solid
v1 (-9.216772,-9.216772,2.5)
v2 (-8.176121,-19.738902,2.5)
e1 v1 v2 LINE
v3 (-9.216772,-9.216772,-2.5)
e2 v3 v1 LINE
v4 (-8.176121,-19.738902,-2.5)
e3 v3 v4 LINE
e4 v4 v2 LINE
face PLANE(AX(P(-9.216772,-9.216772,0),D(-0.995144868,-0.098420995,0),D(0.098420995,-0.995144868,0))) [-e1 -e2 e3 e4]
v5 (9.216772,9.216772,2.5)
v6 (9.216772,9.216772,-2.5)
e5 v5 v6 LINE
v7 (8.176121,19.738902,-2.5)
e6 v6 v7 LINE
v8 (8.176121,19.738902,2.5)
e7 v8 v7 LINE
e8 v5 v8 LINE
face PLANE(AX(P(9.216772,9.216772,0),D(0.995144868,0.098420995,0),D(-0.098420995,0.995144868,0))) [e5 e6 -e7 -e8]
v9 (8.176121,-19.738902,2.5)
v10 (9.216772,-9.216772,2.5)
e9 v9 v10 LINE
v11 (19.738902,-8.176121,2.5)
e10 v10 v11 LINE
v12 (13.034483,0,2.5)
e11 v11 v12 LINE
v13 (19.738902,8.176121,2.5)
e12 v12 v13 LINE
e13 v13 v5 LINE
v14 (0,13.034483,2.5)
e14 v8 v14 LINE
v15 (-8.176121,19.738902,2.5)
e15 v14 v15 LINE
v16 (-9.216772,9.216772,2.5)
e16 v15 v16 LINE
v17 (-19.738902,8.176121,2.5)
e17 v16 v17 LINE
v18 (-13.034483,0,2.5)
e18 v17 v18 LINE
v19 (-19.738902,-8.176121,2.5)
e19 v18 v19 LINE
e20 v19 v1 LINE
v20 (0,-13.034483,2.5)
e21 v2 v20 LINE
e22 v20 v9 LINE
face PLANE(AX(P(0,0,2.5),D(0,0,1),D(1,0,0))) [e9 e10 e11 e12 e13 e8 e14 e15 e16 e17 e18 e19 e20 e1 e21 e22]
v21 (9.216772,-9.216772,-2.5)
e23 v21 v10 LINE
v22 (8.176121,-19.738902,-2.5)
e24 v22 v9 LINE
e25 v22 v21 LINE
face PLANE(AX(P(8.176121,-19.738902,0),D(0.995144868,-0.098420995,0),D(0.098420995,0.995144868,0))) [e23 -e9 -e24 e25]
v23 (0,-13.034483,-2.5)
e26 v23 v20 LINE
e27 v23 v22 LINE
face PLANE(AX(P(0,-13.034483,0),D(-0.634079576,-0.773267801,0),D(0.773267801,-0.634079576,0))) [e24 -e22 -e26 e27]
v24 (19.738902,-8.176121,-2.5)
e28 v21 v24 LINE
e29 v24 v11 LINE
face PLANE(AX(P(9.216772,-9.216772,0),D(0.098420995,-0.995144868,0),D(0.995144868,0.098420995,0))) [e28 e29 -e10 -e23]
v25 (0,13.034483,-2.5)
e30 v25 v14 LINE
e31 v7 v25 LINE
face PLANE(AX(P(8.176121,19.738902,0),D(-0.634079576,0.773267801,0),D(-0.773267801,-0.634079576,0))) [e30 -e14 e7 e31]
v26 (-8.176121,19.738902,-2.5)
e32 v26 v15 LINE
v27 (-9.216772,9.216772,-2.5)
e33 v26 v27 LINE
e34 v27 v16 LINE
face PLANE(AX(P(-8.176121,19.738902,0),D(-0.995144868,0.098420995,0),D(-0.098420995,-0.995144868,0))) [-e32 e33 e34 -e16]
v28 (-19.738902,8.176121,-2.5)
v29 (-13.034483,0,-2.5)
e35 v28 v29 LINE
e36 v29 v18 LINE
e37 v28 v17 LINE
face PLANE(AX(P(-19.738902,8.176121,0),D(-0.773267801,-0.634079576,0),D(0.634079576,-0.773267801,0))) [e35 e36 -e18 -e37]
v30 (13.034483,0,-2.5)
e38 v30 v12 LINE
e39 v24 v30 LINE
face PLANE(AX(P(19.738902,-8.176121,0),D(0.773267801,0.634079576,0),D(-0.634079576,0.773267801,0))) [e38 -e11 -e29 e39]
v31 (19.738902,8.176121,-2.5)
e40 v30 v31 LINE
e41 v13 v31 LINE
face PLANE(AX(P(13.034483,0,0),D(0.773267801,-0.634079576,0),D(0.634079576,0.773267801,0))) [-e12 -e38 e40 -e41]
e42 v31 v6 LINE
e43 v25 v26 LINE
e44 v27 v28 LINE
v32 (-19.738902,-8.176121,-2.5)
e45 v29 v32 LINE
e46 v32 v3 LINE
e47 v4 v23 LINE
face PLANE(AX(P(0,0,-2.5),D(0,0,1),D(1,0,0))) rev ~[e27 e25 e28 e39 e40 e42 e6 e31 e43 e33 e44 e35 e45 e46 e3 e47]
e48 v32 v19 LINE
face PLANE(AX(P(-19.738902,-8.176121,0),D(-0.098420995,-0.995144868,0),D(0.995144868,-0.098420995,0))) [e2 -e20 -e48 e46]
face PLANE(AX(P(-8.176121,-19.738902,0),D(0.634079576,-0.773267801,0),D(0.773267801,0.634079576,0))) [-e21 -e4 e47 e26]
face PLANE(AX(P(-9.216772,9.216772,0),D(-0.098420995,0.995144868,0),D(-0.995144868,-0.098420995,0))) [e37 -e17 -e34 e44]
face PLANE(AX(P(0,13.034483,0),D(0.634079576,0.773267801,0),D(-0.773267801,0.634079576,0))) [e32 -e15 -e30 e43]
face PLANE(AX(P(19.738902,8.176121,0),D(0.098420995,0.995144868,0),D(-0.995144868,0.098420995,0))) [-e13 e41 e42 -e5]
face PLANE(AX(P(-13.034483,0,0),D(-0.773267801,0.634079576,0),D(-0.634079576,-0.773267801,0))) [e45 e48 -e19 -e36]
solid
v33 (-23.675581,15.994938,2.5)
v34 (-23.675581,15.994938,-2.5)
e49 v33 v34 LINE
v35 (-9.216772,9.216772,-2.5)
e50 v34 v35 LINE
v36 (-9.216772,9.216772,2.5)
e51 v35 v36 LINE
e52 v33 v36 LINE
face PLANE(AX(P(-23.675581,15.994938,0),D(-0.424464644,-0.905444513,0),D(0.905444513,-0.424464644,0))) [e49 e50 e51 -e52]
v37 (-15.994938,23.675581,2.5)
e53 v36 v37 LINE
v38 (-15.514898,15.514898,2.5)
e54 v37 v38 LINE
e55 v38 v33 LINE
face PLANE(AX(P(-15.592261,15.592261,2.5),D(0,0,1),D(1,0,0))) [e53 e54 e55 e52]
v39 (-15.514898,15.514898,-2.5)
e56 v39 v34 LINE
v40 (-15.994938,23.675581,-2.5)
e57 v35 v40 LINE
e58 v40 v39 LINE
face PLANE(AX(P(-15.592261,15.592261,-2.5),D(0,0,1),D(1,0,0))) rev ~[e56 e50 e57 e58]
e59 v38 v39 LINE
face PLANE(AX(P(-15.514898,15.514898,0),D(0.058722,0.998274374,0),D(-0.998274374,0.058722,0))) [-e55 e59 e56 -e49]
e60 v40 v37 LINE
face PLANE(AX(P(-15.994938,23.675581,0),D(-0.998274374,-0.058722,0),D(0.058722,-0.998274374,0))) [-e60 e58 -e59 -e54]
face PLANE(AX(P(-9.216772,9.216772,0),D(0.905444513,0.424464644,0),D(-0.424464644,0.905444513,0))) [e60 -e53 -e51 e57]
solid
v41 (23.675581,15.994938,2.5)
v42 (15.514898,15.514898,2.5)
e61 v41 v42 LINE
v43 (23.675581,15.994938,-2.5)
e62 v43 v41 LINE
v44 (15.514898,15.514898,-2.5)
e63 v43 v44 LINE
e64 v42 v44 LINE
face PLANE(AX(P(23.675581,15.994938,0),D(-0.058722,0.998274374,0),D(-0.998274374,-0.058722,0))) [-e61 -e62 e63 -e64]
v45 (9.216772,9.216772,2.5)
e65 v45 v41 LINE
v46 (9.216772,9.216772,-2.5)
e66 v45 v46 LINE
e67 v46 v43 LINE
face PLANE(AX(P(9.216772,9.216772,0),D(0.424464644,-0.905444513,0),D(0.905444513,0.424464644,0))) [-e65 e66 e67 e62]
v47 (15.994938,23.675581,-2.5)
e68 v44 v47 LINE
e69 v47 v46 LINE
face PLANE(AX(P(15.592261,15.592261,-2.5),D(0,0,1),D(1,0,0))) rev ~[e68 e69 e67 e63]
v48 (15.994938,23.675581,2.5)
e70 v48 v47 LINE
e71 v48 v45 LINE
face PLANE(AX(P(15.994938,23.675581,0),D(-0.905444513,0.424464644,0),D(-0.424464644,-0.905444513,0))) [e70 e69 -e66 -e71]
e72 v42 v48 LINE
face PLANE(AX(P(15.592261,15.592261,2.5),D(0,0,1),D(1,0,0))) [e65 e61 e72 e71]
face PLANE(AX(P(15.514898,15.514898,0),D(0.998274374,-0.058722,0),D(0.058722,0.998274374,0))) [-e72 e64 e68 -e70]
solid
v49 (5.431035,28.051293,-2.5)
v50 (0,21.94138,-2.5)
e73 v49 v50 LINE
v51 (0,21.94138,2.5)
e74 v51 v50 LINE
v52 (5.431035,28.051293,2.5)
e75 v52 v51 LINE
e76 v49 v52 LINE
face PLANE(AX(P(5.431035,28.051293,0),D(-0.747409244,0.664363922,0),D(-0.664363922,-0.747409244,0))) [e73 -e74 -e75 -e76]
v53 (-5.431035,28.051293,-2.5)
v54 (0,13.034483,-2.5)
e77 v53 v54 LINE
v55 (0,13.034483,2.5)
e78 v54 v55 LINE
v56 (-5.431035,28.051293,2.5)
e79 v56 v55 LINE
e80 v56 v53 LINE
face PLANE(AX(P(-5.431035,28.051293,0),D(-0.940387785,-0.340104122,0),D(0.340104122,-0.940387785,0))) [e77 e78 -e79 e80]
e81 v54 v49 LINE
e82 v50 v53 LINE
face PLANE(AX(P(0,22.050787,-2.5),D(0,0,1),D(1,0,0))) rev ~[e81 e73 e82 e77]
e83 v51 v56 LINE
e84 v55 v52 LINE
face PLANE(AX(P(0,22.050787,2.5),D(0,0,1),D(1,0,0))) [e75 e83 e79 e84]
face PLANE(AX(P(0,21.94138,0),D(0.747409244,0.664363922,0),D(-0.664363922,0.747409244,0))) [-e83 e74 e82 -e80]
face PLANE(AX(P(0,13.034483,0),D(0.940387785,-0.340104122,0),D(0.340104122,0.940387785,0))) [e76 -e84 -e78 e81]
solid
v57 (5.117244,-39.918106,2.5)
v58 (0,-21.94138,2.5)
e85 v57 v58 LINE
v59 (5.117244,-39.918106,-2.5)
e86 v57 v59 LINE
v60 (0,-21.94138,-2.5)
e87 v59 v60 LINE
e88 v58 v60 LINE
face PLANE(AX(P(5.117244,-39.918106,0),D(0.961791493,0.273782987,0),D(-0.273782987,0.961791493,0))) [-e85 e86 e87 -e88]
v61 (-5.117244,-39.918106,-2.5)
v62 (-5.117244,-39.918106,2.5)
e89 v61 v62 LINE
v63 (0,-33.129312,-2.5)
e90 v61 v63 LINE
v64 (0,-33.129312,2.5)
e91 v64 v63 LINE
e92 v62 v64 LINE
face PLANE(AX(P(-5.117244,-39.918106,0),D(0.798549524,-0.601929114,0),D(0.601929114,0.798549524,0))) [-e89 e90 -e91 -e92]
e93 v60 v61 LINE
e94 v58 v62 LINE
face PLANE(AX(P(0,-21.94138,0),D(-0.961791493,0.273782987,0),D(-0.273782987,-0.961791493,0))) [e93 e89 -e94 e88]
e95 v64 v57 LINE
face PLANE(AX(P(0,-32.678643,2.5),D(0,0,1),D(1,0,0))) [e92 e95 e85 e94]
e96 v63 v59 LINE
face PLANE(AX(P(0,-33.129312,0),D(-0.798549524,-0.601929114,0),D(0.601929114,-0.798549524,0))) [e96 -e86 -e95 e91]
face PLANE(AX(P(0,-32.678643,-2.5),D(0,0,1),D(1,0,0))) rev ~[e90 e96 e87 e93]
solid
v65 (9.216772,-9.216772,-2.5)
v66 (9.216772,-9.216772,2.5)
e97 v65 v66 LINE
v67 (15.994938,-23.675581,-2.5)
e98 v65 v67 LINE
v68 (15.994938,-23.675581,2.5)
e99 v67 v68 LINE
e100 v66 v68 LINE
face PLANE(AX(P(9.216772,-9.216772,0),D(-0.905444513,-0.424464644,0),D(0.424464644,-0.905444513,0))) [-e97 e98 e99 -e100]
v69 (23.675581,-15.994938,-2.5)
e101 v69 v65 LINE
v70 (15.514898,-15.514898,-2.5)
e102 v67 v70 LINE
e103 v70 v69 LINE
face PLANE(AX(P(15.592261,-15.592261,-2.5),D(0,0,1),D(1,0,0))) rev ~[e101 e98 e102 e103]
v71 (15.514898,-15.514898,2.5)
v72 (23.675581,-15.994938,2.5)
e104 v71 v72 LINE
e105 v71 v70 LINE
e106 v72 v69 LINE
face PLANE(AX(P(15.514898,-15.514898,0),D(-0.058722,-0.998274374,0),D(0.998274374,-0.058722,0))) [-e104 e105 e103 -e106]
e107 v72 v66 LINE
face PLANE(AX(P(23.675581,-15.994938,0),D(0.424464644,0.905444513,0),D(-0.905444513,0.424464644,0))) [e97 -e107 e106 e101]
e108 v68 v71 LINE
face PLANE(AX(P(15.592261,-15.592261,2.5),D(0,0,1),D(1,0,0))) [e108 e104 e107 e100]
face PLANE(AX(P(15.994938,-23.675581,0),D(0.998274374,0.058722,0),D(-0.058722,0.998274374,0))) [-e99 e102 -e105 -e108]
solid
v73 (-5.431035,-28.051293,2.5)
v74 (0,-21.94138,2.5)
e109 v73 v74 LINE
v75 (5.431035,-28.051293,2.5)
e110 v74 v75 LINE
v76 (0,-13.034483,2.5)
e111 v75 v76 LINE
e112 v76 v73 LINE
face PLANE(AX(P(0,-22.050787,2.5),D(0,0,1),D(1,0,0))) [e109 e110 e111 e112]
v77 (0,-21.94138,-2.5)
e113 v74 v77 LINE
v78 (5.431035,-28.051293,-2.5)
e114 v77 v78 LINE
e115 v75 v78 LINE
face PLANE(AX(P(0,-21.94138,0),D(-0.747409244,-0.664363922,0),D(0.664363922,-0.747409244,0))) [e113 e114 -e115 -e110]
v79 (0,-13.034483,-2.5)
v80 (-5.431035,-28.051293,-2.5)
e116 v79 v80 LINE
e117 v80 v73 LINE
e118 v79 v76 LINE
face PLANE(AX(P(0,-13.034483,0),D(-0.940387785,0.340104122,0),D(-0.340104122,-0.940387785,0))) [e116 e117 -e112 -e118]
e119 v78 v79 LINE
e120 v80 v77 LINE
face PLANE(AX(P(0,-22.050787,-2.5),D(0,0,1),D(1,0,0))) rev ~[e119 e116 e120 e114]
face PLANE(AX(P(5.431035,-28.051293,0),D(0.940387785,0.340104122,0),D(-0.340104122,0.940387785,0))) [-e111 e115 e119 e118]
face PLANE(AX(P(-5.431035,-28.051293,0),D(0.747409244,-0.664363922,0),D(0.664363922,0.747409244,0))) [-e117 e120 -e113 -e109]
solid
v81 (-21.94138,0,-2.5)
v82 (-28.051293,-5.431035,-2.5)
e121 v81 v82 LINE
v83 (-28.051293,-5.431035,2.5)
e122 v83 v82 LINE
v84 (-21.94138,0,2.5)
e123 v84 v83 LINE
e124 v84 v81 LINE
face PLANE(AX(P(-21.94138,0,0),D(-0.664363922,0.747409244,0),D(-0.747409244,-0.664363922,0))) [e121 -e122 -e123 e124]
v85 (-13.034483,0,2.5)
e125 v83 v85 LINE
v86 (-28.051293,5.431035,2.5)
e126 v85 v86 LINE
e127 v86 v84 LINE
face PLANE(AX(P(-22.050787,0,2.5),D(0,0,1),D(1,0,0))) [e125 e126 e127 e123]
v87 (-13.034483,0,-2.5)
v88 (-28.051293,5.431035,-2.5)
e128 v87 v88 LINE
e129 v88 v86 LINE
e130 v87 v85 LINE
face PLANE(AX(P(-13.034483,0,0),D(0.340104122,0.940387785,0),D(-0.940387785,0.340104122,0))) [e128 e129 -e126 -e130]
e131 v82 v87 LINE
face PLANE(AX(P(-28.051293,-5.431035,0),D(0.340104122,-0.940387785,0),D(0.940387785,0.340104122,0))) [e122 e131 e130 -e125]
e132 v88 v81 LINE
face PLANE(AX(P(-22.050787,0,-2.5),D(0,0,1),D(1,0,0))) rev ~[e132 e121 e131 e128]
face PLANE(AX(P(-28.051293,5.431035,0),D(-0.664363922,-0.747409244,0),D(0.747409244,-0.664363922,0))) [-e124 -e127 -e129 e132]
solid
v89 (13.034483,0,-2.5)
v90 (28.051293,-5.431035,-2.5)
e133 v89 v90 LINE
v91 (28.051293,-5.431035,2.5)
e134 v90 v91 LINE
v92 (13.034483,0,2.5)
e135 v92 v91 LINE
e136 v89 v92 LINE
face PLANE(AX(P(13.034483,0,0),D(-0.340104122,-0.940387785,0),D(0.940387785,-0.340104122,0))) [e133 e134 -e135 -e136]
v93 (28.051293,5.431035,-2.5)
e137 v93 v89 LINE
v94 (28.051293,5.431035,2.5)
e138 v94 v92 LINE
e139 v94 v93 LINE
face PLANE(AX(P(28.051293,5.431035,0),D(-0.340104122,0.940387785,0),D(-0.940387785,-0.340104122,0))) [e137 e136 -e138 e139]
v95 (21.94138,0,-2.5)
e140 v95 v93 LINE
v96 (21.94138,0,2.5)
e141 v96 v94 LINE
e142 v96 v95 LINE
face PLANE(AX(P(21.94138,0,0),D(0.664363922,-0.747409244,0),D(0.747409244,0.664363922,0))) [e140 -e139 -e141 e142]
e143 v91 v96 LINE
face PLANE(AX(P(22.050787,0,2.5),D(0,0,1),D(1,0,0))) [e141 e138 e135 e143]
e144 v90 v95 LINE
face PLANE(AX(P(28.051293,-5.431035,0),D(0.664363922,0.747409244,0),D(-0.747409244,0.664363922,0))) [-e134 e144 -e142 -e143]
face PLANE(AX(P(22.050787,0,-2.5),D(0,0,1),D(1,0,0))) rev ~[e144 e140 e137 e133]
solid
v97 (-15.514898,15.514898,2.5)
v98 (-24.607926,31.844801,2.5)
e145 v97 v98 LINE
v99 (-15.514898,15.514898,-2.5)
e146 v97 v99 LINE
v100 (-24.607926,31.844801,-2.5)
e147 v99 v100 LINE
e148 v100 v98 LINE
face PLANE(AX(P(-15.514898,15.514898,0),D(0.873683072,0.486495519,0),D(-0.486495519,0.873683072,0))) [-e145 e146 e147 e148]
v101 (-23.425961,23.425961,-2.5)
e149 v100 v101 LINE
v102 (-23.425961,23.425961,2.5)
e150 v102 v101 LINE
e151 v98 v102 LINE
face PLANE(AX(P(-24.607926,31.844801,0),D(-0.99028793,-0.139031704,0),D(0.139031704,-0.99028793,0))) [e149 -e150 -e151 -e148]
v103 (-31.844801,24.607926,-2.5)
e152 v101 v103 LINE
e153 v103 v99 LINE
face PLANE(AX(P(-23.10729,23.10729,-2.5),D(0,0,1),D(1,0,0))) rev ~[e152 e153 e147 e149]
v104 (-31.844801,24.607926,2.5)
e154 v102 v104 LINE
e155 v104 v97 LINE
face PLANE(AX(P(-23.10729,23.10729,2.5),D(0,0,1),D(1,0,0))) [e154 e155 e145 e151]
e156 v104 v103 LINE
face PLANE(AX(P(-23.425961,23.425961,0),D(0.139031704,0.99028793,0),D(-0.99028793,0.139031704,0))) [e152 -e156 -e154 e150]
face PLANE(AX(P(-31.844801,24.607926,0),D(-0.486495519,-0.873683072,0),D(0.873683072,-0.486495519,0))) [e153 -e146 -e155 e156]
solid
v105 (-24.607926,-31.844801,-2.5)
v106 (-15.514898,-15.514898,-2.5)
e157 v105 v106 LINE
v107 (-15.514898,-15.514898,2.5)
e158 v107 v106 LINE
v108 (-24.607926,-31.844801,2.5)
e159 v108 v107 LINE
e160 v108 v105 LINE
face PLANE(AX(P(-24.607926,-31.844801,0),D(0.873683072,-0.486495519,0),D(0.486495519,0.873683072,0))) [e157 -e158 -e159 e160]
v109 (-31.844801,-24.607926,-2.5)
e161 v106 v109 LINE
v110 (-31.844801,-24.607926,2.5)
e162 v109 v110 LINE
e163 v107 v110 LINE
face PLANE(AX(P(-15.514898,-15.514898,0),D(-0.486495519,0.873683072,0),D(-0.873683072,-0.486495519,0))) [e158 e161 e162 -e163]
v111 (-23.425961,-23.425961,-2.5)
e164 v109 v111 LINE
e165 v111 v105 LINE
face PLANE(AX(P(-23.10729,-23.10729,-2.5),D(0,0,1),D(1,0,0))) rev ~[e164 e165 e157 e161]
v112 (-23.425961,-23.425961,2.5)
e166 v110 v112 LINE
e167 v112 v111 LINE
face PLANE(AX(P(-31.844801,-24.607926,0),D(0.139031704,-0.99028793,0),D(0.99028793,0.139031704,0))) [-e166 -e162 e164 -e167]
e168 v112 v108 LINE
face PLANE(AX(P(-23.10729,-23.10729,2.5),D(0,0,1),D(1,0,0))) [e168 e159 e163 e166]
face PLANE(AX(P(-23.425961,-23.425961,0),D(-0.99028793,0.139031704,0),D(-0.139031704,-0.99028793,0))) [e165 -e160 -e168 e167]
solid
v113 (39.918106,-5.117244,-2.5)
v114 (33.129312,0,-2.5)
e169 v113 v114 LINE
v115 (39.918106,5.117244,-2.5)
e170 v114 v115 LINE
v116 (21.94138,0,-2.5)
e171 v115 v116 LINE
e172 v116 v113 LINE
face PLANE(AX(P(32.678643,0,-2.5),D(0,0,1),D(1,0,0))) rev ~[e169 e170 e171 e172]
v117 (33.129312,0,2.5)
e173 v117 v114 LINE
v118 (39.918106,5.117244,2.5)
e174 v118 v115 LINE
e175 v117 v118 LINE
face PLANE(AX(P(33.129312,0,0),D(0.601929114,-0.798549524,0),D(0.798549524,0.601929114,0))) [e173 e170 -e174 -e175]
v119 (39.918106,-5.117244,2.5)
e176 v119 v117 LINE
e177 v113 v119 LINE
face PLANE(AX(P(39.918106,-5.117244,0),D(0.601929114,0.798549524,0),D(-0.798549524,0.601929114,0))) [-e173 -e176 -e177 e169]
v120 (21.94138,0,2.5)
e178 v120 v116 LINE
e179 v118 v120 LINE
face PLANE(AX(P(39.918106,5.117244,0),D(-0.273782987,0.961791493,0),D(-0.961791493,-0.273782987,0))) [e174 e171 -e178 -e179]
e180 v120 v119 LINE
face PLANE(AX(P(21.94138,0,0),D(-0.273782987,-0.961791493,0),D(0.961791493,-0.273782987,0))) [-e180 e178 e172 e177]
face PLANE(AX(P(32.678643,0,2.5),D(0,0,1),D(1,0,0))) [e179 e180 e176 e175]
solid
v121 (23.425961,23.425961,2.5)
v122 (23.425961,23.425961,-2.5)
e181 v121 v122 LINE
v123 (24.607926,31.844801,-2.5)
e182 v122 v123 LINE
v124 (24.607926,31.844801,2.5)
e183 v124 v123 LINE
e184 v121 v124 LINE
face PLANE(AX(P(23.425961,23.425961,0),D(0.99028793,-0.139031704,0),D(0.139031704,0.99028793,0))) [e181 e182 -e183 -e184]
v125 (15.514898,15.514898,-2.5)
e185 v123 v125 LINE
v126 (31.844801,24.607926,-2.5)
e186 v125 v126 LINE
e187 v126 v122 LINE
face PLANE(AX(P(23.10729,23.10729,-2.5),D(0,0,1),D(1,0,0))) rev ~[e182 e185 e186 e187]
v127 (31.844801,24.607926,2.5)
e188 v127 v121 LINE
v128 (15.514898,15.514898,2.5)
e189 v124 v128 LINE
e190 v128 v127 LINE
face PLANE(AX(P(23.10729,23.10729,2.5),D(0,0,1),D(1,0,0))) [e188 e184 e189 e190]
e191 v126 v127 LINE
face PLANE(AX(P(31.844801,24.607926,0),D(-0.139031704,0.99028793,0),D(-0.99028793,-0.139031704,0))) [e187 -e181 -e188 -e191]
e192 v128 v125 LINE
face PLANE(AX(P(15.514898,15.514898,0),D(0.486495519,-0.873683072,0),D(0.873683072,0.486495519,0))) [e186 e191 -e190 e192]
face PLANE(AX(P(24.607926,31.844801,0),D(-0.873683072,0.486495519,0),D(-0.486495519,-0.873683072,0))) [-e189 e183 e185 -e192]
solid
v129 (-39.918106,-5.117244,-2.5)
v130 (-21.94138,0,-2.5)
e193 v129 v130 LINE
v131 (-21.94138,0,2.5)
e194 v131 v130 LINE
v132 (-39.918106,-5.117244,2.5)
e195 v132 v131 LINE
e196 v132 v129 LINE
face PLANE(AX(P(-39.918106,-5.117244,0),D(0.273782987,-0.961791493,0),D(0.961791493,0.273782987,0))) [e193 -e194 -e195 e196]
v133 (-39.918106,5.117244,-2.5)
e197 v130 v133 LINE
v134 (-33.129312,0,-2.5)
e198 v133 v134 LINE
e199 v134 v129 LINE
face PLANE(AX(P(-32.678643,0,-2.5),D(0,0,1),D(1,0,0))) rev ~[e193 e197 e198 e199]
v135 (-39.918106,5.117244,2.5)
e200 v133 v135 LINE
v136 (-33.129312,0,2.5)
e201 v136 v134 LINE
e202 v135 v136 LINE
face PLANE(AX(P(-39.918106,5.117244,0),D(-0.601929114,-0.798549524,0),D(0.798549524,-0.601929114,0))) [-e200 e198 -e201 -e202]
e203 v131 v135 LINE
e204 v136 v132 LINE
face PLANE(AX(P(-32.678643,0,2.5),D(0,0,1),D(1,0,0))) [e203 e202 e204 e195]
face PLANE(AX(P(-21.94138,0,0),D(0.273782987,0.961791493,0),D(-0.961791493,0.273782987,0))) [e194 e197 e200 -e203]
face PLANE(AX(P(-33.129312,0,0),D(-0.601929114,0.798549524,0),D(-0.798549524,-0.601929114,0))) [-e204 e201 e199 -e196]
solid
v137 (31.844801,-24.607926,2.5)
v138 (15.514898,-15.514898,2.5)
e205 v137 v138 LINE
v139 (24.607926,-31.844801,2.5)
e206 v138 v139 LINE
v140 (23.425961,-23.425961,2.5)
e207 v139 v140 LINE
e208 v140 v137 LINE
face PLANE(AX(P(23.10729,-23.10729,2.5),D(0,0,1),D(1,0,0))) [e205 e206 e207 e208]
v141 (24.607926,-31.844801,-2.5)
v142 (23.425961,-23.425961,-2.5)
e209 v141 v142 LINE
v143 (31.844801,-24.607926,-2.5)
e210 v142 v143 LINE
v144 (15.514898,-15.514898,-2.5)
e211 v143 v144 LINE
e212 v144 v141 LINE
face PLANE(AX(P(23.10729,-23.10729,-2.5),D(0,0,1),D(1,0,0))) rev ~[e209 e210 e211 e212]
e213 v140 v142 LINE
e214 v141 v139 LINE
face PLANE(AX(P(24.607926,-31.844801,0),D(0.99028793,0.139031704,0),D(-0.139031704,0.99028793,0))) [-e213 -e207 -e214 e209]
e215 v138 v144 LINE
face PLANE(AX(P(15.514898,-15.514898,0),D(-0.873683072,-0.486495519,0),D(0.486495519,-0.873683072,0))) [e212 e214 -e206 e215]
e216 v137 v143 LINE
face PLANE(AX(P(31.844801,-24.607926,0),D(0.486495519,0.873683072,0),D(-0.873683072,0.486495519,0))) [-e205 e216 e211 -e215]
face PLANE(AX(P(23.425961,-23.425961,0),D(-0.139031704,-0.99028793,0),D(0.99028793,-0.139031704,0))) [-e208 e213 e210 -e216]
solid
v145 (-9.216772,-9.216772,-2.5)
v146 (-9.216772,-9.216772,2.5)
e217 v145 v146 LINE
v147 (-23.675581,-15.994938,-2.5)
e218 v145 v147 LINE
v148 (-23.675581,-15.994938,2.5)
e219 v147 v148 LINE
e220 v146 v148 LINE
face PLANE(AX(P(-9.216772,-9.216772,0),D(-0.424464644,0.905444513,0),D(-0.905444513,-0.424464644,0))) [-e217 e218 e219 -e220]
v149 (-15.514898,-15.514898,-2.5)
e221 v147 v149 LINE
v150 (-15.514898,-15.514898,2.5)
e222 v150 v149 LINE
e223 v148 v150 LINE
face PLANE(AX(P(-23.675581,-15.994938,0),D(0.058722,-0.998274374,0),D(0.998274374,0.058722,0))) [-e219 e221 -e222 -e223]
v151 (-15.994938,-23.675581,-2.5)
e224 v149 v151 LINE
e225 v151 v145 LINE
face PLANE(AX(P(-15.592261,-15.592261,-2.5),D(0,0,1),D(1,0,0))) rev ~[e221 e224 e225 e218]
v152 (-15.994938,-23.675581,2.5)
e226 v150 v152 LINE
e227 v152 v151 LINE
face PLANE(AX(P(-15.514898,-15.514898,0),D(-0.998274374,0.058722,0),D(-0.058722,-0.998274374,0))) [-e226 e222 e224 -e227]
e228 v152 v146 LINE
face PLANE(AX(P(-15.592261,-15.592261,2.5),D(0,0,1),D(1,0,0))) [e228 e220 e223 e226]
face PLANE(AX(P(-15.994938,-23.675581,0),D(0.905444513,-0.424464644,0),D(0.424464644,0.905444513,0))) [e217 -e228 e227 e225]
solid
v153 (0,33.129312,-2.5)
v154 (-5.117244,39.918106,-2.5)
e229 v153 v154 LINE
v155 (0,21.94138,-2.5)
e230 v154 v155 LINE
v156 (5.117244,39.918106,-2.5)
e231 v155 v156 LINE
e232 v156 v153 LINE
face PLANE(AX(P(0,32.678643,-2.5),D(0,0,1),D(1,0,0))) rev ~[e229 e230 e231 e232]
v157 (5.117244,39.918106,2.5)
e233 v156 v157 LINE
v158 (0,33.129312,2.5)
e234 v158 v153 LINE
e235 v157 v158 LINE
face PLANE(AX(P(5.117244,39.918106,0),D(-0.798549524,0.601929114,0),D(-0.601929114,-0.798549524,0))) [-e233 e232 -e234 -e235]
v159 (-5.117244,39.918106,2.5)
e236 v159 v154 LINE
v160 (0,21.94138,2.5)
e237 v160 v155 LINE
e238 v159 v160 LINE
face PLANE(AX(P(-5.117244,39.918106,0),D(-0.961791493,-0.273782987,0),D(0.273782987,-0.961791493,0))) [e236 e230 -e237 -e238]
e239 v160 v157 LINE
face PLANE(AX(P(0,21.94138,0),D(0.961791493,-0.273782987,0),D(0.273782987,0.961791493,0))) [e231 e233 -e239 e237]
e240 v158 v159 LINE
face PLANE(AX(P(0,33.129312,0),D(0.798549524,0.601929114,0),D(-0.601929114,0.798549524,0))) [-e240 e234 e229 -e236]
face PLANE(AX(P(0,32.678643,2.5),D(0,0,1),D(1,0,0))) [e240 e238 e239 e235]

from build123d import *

# Parameters (mm, degrees)
F1_DEPTH = 2.5


with BuildPart() as f1:
    # F0 (on Top) → F1 (new body, symmetric)
    with BuildSketch(Plane.XY):
        Polygon((24.607926, 31.844801), (15.514898, 15.514898), (31.844801, 24.607926), (23.425961, 23.425961), align=None)
        Polygon((15.994938, 23.675581), (9.216772, 9.216772), (23.675581, 15.994938), (15.514898, 15.514898), align=None)
        Polygon((39.918106, 5.117244), (21.94138, 0), (39.918106, -5.117244), (33.129312, 0), align=None)
        Polygon((28.051293, 5.431035), (13.034483, 0), (28.051293, -5.431035), (21.94138, 0), align=None)
        Polygon((31.844801, -24.607926), (15.514898, -15.514898), (24.607926, -31.844801), (23.425961, -23.425961), align=None)
        Polygon((23.675581, -15.994938), (9.216772, -9.216772), (15.994938, -23.675581), (15.514898, -15.514898), align=None)
        Polygon((5.117244, -39.918106), (0, -21.94138), (-5.117244, -39.918106), (0, -33.129312), align=None)
        Polygon((5.431035, -28.051293), (0, -13.034483), (-5.431035, -28.051293), (0, -21.94138), align=None)
        Polygon((-24.607926, -31.844801), (-15.514898, -15.514898), (-31.844801, -24.607926), (-23.425961, -23.425961), align=None)
        Polygon((-15.994938, -23.675581), (-9.216772, -9.216772), (-23.675581, -15.994938), (-15.514898, -15.514898), align=None)
        Polygon((-39.918106, -5.117244), (-21.94138, 0), (-39.918106, 5.117244), (-33.129312, 0), align=None)
        Polygon((-28.051293, -5.431035), (-13.034483, 0), (-28.051293, 5.431035), (-21.94138, 0), align=None)
        Polygon((-31.844801, 24.607926), (-15.514898, 15.514898), (-24.607926, 31.844801), (-23.425961, 23.425961), align=None)
        Polygon((-23.675581, 15.994938), (-9.216772, 9.216772), (-15.994938, 23.675581), (-15.514898, 15.514898), align=None)
        Polygon((-5.431035, 28.051293), (0, 13.034483), (5.431035, 28.051293), (0, 21.94138), align=None)
        Polygon((-5.117244, 39.918106), (0, 21.94138), (5.117244, 39.918106), (0, 33.129312), align=None)
        Polygon((8.176121, 19.738902), (0, 13.034483), (-8.176121, 19.738902), (-9.216772, 9.216772), (-19.738902, 8.176121), (-13.034483, 0), (-19.738902, -8.176121), (-9.216772, -9.216772), (-8.176121, -19.738902), (0, -13.034483), (8.176121, -19.738902), (9.216772, -9.216772), (19.738902, -8.176121), (13.034483, 0), (19.738902, 8.176121), (9.216772, 9.216772), align=None)
    extrude(amount=F1_DEPTH, both=True)


solid = f1.part
